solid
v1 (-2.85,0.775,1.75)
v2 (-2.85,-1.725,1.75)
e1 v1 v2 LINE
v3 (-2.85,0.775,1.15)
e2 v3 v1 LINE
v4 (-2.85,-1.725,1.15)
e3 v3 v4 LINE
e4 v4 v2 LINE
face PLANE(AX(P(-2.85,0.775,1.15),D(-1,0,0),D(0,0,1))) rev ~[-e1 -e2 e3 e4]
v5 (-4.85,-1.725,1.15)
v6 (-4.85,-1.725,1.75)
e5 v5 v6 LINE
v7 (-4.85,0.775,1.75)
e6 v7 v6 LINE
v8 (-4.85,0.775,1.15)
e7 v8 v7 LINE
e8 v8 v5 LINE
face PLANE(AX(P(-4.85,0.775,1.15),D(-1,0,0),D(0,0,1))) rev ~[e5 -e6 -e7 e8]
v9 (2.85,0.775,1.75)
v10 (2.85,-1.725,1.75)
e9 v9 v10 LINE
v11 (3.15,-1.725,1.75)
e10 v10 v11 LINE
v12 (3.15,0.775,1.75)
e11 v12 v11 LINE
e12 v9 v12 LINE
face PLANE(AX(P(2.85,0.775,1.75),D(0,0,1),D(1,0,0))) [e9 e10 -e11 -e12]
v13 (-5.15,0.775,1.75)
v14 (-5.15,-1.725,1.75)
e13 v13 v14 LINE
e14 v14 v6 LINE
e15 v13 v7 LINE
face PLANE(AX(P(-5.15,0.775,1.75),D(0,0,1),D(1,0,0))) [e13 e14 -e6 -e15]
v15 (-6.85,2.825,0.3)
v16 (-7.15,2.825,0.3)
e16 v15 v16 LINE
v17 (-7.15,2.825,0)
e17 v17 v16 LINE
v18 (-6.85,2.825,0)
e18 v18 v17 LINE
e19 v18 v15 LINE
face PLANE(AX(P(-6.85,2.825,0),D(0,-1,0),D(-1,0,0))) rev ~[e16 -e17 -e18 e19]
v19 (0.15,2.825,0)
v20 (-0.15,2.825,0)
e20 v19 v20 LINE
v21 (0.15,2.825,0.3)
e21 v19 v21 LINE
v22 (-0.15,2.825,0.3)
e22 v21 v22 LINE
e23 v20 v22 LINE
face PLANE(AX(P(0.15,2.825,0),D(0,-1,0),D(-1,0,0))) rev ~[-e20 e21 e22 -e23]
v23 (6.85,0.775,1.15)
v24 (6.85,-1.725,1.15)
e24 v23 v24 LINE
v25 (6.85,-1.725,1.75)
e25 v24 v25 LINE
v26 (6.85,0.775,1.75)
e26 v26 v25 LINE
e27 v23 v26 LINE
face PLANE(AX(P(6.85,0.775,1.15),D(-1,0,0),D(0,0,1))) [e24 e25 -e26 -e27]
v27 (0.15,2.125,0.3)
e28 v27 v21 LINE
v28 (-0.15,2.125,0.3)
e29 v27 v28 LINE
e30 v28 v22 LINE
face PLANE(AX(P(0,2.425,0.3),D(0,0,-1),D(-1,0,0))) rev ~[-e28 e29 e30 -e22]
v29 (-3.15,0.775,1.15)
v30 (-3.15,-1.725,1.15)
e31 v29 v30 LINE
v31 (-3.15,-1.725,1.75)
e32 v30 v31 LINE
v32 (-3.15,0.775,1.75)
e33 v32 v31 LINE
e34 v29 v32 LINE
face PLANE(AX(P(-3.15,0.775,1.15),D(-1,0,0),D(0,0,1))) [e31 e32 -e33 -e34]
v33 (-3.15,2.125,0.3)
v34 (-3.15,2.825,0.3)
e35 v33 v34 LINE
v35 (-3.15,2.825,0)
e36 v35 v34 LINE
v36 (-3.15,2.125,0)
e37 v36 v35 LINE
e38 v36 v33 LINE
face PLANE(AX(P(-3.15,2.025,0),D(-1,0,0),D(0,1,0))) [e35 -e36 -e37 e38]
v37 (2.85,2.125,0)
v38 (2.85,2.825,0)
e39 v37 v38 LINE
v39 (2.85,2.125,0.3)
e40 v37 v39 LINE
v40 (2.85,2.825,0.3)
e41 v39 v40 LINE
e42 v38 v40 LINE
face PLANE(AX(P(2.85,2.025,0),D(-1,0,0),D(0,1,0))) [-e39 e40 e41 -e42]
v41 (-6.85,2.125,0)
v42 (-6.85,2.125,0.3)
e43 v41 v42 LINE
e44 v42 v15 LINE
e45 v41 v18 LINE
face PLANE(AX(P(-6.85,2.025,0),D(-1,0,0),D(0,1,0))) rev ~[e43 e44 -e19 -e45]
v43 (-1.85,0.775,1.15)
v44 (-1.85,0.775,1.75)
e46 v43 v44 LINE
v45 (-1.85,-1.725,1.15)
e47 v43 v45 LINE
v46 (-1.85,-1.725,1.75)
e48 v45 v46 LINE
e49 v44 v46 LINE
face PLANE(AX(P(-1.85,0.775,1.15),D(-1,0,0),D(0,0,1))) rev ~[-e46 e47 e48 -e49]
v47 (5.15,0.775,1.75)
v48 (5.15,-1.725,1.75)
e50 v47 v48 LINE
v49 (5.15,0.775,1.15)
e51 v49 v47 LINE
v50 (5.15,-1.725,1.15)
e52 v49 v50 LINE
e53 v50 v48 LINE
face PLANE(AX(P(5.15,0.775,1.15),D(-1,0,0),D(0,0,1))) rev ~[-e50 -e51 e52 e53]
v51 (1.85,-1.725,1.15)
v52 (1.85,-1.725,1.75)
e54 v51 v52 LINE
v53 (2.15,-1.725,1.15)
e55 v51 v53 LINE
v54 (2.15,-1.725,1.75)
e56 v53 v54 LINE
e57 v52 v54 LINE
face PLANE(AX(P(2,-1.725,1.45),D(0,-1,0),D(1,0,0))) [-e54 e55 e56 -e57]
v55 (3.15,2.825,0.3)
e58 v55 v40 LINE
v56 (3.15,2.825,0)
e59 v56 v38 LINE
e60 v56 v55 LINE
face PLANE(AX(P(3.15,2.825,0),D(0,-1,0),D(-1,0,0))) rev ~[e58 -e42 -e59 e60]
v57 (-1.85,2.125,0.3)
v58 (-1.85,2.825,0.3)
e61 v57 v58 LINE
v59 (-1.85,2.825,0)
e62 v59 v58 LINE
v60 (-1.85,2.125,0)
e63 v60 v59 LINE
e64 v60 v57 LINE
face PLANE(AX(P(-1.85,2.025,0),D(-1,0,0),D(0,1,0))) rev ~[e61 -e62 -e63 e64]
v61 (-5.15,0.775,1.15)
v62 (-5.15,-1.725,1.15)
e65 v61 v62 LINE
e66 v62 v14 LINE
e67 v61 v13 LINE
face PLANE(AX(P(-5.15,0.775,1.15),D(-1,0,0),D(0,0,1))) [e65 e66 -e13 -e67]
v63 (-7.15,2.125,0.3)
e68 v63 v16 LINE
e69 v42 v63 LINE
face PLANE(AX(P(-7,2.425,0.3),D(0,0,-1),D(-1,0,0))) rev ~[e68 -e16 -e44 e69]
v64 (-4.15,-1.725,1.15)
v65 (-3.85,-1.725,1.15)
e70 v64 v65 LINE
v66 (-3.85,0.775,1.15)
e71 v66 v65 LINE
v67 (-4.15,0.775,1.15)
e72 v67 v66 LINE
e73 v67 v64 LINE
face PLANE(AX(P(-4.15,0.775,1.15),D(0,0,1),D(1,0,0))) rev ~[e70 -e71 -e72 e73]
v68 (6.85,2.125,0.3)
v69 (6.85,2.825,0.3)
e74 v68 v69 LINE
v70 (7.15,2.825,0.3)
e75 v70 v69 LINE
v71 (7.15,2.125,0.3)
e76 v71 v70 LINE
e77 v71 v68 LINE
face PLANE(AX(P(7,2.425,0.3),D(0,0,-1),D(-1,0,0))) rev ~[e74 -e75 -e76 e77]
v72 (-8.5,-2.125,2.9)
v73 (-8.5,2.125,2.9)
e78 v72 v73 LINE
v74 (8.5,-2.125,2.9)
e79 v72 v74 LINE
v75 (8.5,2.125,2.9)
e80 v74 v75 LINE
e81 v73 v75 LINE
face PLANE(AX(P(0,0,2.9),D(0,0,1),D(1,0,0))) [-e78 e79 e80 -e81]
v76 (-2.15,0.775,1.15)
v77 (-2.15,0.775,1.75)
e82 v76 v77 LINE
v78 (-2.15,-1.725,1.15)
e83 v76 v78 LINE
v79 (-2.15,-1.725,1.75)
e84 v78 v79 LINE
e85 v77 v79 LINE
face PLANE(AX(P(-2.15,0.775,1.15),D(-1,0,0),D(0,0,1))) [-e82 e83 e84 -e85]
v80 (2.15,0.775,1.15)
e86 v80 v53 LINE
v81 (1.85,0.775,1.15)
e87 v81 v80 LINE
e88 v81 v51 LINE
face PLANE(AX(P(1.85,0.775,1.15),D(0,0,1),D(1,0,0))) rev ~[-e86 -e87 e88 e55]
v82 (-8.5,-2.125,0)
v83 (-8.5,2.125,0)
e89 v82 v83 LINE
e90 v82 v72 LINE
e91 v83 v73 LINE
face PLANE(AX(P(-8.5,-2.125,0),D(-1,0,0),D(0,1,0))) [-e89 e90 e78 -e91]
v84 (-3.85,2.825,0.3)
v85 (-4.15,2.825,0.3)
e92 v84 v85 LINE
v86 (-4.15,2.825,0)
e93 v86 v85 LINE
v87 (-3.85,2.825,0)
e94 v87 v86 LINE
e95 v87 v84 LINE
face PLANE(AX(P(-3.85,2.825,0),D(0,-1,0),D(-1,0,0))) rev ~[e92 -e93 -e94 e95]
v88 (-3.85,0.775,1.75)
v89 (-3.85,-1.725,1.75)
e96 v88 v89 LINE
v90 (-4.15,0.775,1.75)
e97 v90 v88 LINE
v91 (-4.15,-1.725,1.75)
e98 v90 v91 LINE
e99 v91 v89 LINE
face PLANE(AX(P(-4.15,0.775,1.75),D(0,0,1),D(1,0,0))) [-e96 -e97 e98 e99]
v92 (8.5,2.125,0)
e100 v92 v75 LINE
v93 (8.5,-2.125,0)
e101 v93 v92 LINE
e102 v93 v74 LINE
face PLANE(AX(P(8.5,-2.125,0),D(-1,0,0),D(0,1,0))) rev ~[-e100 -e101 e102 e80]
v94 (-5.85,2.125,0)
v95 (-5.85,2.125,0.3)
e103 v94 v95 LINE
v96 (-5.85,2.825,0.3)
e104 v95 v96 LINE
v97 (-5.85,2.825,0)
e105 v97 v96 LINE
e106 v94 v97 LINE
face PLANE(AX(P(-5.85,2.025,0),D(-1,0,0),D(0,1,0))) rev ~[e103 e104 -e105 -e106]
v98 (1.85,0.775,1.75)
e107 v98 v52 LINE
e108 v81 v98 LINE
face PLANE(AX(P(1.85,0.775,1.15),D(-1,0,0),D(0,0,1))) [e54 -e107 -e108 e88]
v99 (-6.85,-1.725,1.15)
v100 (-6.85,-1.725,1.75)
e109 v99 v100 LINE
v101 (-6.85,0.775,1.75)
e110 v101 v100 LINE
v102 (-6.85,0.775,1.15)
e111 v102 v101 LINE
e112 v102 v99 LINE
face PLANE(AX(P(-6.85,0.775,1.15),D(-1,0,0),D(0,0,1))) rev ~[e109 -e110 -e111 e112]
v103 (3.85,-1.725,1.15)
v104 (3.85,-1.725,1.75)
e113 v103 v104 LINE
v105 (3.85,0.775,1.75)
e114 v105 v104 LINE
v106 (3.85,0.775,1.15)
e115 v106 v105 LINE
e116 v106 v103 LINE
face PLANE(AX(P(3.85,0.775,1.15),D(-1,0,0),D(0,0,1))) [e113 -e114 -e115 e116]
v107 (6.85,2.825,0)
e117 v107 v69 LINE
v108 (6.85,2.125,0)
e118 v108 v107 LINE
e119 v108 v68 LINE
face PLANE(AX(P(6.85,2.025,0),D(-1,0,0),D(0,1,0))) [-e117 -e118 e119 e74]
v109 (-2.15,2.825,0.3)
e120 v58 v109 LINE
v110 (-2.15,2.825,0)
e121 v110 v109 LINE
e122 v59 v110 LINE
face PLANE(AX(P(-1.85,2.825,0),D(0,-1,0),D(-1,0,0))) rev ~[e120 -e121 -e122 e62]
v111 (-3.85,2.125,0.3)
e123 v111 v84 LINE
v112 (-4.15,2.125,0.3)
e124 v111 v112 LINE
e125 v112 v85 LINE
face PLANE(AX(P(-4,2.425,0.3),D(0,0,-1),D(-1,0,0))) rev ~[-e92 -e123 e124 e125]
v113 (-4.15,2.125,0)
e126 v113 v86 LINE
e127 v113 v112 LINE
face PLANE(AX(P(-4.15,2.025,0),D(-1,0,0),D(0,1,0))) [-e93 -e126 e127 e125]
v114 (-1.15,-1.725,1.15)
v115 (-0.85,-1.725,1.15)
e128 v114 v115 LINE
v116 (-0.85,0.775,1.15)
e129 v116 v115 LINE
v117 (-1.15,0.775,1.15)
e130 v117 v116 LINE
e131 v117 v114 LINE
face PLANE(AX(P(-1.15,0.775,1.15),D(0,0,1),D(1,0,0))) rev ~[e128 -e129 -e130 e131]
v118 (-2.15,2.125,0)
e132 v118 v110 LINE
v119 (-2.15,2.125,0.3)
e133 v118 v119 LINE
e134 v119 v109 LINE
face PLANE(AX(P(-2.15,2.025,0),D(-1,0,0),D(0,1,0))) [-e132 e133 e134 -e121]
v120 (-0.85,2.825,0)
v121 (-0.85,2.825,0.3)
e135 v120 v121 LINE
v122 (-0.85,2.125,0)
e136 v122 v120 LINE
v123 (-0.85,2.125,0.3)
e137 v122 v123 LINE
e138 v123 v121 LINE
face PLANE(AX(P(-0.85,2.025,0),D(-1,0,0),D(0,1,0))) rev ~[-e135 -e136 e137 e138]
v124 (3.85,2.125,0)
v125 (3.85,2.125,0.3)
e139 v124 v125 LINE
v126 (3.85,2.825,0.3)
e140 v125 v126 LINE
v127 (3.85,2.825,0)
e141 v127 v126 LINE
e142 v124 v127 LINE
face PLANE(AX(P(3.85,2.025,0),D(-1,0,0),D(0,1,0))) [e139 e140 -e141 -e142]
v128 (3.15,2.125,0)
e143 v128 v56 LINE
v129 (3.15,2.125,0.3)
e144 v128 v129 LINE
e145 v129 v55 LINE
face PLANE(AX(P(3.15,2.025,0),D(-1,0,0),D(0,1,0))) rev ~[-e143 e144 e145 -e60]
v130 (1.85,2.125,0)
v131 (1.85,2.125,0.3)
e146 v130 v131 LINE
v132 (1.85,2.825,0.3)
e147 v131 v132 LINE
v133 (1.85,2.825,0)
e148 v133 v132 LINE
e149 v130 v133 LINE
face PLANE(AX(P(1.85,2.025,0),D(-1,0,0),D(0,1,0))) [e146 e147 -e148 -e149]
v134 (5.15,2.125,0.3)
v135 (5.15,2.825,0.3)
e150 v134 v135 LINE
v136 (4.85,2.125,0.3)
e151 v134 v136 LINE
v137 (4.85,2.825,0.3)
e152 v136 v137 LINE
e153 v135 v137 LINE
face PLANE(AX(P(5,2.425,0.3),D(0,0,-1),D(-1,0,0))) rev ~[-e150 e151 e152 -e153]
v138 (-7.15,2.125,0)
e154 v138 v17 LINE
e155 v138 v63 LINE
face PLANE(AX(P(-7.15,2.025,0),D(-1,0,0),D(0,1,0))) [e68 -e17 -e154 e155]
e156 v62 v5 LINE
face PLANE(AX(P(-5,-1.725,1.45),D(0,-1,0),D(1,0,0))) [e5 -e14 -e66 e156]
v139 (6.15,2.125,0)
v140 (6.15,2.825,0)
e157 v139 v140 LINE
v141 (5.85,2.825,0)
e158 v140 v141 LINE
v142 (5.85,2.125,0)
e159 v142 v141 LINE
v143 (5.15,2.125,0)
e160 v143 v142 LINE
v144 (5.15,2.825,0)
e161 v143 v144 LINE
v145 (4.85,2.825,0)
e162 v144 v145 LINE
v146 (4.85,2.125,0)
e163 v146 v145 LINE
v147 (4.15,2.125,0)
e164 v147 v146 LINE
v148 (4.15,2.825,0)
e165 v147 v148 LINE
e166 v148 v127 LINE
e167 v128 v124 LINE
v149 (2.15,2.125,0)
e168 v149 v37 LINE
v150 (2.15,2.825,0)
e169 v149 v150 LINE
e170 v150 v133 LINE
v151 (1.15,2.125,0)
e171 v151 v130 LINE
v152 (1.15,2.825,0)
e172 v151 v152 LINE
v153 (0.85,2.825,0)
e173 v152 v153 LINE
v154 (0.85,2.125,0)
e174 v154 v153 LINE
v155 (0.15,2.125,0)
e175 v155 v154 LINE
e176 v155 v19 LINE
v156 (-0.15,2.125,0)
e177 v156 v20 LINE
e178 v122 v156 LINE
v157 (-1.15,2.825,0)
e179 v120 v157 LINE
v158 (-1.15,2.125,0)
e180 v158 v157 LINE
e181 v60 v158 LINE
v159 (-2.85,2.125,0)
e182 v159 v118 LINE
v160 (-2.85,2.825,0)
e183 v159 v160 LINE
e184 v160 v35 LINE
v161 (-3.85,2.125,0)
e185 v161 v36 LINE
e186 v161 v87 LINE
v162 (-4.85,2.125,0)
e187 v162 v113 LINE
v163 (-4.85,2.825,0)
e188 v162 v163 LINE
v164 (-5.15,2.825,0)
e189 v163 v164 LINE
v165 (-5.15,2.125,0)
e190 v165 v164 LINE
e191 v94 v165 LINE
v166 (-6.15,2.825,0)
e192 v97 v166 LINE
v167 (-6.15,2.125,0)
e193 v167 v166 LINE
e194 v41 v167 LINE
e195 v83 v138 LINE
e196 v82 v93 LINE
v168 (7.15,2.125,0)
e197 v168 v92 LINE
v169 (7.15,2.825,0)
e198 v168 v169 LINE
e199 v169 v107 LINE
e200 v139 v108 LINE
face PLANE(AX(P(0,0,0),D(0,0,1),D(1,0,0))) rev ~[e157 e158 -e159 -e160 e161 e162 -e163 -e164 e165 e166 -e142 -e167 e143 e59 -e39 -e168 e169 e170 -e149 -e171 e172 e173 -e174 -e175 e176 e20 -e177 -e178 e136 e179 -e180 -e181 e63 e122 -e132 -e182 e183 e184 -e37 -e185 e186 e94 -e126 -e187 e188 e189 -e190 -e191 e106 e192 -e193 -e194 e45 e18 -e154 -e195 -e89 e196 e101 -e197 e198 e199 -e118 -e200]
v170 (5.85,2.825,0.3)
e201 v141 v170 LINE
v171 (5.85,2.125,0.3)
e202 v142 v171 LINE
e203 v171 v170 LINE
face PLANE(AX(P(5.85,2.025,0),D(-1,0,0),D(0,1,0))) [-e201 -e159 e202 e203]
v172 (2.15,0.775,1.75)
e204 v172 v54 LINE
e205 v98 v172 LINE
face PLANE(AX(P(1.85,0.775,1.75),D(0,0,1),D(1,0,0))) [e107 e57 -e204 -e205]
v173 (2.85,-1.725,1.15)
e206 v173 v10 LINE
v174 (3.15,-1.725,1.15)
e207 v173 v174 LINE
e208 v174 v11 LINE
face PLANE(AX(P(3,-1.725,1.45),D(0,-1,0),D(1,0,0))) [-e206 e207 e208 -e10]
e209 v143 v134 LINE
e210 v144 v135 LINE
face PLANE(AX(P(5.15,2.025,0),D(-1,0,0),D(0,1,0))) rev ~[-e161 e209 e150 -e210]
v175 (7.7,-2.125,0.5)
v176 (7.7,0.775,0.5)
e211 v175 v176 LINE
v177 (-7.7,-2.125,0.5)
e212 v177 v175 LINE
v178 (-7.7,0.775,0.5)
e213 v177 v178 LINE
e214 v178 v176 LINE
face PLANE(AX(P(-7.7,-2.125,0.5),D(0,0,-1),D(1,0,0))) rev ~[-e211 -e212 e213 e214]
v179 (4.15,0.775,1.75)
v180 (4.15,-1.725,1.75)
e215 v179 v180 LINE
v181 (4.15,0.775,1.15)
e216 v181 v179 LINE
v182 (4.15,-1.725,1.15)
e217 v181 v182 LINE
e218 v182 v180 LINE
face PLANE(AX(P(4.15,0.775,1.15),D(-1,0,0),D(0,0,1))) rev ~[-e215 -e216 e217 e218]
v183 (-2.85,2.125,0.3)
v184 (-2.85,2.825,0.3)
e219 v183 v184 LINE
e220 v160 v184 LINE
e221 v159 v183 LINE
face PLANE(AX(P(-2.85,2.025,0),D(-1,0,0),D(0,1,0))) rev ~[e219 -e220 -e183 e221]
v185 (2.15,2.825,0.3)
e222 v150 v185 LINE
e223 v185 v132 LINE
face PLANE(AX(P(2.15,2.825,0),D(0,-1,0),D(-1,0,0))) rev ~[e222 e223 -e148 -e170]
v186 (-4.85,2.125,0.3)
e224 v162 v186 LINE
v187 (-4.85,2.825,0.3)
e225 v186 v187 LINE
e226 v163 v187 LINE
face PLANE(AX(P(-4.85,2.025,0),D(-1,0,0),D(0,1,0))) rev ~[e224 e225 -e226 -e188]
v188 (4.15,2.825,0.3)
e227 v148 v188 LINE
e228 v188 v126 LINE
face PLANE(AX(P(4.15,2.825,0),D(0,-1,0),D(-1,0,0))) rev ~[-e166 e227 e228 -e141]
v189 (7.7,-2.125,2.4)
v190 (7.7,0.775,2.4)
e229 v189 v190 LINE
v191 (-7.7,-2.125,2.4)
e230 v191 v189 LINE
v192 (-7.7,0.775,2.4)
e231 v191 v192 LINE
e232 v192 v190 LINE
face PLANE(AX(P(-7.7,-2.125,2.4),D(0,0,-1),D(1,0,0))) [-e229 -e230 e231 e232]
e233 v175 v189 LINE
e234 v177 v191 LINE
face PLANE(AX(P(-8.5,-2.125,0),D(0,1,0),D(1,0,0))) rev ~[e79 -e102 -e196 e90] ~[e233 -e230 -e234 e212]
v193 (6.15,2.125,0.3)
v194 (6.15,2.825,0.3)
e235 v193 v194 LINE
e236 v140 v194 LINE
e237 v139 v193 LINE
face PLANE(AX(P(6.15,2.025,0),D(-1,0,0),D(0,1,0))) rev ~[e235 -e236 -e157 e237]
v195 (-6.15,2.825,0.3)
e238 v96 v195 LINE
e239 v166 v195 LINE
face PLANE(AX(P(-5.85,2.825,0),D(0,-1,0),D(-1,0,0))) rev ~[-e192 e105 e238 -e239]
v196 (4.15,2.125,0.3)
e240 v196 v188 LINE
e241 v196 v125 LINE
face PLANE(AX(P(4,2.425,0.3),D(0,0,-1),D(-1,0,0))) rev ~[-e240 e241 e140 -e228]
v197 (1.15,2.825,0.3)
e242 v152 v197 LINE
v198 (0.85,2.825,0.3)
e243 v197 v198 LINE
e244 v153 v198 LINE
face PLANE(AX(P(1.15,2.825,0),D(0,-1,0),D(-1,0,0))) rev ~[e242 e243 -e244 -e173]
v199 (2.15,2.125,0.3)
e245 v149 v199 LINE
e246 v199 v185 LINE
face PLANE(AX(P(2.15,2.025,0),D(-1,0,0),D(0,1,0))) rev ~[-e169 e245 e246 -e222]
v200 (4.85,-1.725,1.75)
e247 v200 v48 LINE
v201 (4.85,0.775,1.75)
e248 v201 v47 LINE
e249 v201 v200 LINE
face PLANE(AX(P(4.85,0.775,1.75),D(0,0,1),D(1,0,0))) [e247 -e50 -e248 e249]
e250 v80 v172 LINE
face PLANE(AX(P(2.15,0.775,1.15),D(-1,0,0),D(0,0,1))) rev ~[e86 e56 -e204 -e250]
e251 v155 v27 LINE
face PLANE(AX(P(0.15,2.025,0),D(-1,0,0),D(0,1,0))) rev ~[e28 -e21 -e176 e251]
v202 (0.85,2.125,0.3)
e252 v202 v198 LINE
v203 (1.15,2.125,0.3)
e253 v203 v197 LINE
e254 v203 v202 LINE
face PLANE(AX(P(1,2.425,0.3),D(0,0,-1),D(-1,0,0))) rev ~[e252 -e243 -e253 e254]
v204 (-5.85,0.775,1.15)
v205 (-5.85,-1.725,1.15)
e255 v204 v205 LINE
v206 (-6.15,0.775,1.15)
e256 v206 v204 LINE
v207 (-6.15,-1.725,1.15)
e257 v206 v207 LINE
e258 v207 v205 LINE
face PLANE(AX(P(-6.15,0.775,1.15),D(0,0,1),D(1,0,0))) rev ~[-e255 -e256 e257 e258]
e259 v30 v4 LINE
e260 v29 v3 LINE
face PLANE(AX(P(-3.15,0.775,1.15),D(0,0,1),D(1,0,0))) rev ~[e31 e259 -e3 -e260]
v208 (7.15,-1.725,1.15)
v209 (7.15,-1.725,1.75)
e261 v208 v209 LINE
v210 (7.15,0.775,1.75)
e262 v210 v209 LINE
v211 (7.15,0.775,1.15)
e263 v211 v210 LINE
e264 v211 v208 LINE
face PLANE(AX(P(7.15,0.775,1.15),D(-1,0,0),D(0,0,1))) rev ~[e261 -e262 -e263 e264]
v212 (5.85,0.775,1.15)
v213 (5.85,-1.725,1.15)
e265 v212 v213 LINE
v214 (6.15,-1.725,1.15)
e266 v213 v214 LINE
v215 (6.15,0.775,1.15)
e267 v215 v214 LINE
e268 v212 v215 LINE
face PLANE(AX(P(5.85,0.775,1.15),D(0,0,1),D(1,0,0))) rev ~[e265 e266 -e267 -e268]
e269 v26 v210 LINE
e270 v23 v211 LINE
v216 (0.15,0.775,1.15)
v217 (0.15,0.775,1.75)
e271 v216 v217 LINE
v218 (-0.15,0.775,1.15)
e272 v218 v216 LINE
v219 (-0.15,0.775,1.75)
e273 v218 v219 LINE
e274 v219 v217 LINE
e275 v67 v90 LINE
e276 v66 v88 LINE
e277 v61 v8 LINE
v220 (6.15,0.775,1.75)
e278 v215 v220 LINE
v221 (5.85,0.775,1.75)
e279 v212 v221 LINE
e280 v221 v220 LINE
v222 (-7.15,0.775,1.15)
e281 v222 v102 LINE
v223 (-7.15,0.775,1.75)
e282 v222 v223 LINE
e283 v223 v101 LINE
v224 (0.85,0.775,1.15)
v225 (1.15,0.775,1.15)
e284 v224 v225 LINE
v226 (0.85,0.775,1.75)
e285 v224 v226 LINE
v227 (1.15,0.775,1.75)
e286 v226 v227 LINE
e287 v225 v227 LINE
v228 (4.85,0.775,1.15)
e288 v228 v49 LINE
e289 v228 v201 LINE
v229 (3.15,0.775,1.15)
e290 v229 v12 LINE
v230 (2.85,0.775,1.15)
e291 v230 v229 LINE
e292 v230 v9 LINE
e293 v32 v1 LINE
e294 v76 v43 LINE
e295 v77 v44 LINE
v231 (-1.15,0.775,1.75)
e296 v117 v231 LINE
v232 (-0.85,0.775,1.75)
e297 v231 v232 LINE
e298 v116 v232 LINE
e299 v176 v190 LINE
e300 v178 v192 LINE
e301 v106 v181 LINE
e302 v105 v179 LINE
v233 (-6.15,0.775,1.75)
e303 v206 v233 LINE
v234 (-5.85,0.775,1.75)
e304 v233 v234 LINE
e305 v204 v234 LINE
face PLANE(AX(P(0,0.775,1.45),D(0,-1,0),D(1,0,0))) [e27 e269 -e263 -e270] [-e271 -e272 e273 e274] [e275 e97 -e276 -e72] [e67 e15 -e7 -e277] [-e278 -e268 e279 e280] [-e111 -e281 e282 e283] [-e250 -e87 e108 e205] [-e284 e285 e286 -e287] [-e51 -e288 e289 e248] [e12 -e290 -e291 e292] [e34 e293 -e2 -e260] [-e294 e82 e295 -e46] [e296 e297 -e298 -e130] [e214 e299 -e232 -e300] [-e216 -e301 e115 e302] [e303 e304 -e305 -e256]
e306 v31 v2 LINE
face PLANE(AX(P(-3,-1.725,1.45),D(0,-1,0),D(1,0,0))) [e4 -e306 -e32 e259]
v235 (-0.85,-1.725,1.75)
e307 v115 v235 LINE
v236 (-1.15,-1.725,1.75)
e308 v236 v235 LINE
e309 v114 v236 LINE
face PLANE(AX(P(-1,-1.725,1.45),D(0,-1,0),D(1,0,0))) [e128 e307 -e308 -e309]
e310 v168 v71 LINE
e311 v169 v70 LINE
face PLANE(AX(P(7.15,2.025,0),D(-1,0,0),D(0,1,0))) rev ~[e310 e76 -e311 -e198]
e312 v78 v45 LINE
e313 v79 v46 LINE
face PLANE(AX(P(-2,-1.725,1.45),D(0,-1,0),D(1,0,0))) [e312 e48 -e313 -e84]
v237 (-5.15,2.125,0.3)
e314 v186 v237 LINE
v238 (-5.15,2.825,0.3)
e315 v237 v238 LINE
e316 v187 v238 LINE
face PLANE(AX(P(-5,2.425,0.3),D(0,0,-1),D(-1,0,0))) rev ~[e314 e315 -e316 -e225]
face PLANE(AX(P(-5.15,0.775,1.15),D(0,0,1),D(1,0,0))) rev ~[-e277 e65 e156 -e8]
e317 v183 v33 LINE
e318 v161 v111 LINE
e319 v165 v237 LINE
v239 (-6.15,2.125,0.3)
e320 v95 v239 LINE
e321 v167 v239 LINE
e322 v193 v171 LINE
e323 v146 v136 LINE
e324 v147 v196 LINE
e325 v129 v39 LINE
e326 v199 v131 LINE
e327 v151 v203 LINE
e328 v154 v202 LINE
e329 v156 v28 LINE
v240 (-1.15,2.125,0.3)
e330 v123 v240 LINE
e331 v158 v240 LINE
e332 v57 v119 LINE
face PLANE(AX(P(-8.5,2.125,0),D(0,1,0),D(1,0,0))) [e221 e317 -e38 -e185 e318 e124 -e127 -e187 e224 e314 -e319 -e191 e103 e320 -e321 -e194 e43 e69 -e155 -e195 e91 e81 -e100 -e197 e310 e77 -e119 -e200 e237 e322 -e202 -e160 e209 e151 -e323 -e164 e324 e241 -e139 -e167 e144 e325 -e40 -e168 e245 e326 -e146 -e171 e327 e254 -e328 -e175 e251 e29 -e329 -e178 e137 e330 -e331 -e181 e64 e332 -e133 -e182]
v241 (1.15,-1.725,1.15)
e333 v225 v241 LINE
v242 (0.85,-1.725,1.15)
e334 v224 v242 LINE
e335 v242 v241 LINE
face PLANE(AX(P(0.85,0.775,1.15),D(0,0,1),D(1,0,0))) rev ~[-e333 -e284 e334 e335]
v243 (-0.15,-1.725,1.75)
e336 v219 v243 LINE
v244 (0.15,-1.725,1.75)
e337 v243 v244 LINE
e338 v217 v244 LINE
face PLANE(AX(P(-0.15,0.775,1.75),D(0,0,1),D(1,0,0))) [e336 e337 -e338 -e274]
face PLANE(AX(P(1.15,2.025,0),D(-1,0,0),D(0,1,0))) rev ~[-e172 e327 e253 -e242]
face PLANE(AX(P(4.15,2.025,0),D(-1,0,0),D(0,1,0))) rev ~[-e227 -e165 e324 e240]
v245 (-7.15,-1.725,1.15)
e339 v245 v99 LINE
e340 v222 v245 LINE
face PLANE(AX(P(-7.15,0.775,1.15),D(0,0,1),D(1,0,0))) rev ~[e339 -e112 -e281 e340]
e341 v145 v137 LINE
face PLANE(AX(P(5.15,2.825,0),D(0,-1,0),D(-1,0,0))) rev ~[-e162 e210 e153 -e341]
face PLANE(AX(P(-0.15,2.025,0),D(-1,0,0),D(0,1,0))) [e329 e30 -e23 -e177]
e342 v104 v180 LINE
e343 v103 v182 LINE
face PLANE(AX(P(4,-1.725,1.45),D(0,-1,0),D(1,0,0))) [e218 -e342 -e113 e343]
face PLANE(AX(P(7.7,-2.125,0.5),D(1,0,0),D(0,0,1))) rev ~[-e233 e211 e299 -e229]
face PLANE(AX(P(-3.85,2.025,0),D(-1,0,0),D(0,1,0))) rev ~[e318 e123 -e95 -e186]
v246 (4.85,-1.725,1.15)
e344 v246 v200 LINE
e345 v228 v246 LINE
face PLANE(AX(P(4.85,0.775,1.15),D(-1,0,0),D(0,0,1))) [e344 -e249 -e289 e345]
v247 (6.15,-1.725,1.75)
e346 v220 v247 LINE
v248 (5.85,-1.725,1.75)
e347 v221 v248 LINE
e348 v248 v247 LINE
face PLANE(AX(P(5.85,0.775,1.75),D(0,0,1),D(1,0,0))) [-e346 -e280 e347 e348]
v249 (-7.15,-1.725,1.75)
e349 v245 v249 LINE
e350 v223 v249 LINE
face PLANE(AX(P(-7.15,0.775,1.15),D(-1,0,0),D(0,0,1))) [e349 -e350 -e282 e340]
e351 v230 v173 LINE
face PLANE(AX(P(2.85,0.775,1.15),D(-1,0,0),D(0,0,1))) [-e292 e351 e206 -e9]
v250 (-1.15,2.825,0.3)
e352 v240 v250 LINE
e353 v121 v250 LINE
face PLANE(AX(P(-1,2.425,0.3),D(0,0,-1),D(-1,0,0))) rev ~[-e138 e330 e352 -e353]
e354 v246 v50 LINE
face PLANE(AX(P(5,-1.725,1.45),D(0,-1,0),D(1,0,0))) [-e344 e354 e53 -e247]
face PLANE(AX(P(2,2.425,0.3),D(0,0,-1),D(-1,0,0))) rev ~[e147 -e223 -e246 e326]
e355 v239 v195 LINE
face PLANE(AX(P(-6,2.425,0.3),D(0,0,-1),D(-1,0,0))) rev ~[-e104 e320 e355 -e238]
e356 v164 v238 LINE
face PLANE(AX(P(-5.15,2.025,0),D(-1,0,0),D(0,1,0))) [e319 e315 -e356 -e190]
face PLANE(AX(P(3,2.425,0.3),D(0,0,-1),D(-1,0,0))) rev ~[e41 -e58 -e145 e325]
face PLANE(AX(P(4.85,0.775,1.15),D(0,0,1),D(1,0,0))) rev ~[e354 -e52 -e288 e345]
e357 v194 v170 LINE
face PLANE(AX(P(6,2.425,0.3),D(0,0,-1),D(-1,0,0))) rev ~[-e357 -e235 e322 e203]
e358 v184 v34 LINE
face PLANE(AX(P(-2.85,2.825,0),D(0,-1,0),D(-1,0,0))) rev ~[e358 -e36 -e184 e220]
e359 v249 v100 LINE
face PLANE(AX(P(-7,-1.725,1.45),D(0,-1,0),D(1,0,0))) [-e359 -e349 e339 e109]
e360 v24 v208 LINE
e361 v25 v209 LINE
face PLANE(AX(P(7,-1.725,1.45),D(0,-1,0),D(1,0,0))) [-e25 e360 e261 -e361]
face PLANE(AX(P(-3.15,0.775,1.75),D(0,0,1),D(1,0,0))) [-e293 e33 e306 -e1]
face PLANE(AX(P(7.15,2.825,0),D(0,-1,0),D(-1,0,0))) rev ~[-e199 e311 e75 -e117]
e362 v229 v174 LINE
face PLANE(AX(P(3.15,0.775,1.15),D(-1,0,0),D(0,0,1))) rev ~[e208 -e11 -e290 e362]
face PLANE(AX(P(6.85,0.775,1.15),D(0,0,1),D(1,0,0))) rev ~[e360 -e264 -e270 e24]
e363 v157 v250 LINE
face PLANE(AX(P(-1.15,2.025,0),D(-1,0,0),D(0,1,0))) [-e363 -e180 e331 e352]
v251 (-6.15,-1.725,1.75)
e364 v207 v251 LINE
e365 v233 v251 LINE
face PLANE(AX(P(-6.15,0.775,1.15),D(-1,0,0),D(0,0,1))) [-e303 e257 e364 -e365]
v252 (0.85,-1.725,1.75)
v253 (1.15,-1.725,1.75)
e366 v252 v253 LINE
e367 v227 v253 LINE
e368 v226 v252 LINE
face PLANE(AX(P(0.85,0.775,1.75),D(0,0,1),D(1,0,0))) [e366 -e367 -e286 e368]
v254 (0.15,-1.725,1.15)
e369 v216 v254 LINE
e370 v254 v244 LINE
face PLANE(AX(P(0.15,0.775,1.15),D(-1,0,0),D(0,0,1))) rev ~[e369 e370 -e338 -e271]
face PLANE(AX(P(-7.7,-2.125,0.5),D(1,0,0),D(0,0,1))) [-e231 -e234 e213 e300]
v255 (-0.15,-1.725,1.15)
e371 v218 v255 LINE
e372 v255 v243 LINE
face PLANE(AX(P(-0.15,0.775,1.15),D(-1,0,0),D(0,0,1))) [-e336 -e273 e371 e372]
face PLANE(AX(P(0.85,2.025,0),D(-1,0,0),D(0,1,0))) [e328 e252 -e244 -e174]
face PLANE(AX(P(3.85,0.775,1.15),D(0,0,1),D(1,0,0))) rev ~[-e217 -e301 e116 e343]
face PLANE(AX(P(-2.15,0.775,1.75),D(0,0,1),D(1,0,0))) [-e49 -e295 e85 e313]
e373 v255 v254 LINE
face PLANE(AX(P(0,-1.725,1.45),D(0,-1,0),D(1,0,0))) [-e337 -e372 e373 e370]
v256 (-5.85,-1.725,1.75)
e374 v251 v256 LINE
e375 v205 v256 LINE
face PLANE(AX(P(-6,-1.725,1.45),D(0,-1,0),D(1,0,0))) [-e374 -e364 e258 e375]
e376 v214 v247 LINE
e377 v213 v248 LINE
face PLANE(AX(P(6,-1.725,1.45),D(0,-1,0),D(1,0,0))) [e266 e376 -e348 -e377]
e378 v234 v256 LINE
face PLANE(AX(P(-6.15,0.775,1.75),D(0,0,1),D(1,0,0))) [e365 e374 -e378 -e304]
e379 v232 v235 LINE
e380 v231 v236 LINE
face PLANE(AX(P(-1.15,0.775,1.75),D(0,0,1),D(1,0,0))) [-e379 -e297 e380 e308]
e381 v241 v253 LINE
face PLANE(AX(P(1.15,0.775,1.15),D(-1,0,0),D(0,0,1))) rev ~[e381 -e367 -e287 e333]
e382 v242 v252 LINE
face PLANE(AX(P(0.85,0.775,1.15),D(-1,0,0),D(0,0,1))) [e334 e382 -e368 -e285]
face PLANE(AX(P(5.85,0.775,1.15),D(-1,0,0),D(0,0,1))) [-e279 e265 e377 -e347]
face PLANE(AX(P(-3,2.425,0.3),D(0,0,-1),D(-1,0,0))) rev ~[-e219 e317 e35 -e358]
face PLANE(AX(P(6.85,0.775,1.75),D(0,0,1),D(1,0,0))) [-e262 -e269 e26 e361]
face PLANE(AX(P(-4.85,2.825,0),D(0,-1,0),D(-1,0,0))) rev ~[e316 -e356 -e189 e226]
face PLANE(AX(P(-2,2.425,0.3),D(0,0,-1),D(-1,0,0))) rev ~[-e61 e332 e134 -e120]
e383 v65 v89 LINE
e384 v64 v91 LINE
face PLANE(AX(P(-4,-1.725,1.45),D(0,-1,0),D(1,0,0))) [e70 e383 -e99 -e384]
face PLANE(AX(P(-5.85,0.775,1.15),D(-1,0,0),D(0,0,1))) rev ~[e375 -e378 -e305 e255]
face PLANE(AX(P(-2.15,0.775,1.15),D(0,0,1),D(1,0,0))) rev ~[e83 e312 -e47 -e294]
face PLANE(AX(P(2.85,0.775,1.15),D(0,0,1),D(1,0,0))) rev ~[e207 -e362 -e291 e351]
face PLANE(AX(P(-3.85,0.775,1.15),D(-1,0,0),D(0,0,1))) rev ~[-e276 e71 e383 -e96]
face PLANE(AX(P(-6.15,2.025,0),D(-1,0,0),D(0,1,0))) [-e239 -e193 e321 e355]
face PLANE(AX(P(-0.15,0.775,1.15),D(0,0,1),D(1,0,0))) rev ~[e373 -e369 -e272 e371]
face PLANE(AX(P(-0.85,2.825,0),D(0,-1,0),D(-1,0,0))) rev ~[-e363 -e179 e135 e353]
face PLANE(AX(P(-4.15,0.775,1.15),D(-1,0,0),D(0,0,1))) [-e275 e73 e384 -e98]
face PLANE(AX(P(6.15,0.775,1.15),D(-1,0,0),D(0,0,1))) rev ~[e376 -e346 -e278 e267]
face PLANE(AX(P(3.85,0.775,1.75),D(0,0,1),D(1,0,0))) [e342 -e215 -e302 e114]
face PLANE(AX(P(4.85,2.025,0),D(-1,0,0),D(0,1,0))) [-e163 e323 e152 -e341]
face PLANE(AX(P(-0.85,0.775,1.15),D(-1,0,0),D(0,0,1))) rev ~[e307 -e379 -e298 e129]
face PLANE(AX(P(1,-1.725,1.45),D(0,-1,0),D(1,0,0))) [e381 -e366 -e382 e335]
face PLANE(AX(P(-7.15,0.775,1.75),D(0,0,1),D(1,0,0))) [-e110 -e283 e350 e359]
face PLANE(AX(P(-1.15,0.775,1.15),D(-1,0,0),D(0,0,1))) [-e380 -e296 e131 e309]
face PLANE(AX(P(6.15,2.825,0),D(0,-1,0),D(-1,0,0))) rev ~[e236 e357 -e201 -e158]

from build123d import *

# Parameters (mm, degrees)
SKETCH1_W           = 17
SKETCH1_H           = 4.25
BOSS_EXTRUDE1_DEPTH = 2.9
SKETCH2_W           = 15.4
SKETCH2_H           = 1.9
CUT_EXTRUDE1_DEPTH  = 2.9
SKETCH3_W           = 0.3
SKETCH3_H           = 0.6
BOSS_EXTRUDE2_DEPTH = 2.5
SKETCH4_W           = 0.3
SKETCH4_H           = 0.8
BOSS_EXTRUDE3_DEPTH = 0.3


with BuildPart() as part:
    # Sketch1 → Boss-Extrude1 (new body)
    with BuildSketch(Plane.XY):
        Rectangle(SKETCH1_W, SKETCH1_H)
    extrude(amount=BOSS_EXTRUDE1_DEPTH)

    # Sketch2 → Cut-Extrude1 (cut)
    with BuildSketch(Plane.XZ.offset(2.125)):
        with Locations((0, 1.45)):
            Rectangle(SKETCH2_W, SKETCH2_H)
    extrude(amount=-CUT_EXTRUDE1_DEPTH, mode=Mode.SUBTRACT)

    # Sketch3 → Boss-Extrude2 (add)
    with BuildSketch(Plane.XZ.offset(-0.775)):
        with Locations((-7, 1.45)):
            Rectangle(SKETCH3_W, SKETCH3_H)
        with Locations((-6, 1.45)):
            Rectangle(SKETCH3_W, SKETCH3_H)
        with Locations((-5, 1.45)):
            Rectangle(SKETCH3_W, SKETCH3_H)
        with Locations((-4, 1.45)):
            Rectangle(SKETCH3_W, SKETCH3_H)
        with Locations((-3, 1.45)):
            Rectangle(SKETCH3_W, SKETCH3_H)
        with Locations((-2, 1.45)):
            Rectangle(SKETCH3_W, SKETCH3_H)
        with Locations((-1, 1.45)):
            Rectangle(SKETCH3_W, SKETCH3_H)
        with Locations((0, 1.45)):
            Rectangle(SKETCH3_W, SKETCH3_H)
        with Locations((1, 1.45)):
            Rectangle(SKETCH3_W, SKETCH3_H)
        with Locations((2, 1.45)):
            Rectangle(SKETCH3_W, SKETCH3_H)
        with Locations((3, 1.45)):
            Rectangle(SKETCH3_W, SKETCH3_H)
        with Locations((4, 1.45)):
            Rectangle(SKETCH3_W, SKETCH3_H)
        with Locations((5, 1.45)):
            Rectangle(SKETCH3_W, SKETCH3_H)
        with Locations((6, 1.45)):
            Rectangle(SKETCH3_W, SKETCH3_H)
        with Locations((7, 1.45)):
            Rectangle(SKETCH3_W, SKETCH3_H)
    extrude(amount=BOSS_EXTRUDE2_DEPTH)

    # Sketch4 → Boss-Extrude3 (add)
    with BuildSketch(Plane(origin=(0, 0, 0), x_dir=(-1, 0, 0), z_dir=(0, 0, -1))):
        with Locations((-7, 2.425)):
            Rectangle(SKETCH4_W, SKETCH4_H)
        with Locations((-6, 2.425)):
            Rectangle(SKETCH4_W, SKETCH4_H)
        with Locations((-5, 2.425)):
            Rectangle(SKETCH4_W, SKETCH4_H)
        with Locations((-4, 2.425)):
            Rectangle(SKETCH4_W, SKETCH4_H)
        with Locations((-3, 2.425)):
            Rectangle(SKETCH4_W, SKETCH4_H)
        with Locations((-2, 2.425)):
            Rectangle(SKETCH4_W, SKETCH4_H)
        with Locations((-1, 2.425)):
            Rectangle(SKETCH4_W, SKETCH4_H)
        with Locations((0, 2.425)):
            Rectangle(SKETCH4_W, SKETCH4_H)
        with Locations((1, 2.425)):
            Rectangle(SKETCH4_W, SKETCH4_H)
        with Locations((2, 2.425)):
            Rectangle(SKETCH4_W, SKETCH4_H)
        with Locations((3, 2.425)):
            Rectangle(SKETCH4_W, SKETCH4_H)
        with Locations((4, 2.425)):
            Rectangle(SKETCH4_W, SKETCH4_H)
        with Locations((5, 2.425)):
            Rectangle(SKETCH4_W, SKETCH4_H)
        with Locations((6, 2.425)):
            Rectangle(SKETCH4_W, SKETCH4_H)
        with Locations((7, 2.425)):
            Rectangle(SKETCH4_W, SKETCH4_H)
    extrude(amount=-BOSS_EXTRUDE3_DEPTH)


solid = part.part
